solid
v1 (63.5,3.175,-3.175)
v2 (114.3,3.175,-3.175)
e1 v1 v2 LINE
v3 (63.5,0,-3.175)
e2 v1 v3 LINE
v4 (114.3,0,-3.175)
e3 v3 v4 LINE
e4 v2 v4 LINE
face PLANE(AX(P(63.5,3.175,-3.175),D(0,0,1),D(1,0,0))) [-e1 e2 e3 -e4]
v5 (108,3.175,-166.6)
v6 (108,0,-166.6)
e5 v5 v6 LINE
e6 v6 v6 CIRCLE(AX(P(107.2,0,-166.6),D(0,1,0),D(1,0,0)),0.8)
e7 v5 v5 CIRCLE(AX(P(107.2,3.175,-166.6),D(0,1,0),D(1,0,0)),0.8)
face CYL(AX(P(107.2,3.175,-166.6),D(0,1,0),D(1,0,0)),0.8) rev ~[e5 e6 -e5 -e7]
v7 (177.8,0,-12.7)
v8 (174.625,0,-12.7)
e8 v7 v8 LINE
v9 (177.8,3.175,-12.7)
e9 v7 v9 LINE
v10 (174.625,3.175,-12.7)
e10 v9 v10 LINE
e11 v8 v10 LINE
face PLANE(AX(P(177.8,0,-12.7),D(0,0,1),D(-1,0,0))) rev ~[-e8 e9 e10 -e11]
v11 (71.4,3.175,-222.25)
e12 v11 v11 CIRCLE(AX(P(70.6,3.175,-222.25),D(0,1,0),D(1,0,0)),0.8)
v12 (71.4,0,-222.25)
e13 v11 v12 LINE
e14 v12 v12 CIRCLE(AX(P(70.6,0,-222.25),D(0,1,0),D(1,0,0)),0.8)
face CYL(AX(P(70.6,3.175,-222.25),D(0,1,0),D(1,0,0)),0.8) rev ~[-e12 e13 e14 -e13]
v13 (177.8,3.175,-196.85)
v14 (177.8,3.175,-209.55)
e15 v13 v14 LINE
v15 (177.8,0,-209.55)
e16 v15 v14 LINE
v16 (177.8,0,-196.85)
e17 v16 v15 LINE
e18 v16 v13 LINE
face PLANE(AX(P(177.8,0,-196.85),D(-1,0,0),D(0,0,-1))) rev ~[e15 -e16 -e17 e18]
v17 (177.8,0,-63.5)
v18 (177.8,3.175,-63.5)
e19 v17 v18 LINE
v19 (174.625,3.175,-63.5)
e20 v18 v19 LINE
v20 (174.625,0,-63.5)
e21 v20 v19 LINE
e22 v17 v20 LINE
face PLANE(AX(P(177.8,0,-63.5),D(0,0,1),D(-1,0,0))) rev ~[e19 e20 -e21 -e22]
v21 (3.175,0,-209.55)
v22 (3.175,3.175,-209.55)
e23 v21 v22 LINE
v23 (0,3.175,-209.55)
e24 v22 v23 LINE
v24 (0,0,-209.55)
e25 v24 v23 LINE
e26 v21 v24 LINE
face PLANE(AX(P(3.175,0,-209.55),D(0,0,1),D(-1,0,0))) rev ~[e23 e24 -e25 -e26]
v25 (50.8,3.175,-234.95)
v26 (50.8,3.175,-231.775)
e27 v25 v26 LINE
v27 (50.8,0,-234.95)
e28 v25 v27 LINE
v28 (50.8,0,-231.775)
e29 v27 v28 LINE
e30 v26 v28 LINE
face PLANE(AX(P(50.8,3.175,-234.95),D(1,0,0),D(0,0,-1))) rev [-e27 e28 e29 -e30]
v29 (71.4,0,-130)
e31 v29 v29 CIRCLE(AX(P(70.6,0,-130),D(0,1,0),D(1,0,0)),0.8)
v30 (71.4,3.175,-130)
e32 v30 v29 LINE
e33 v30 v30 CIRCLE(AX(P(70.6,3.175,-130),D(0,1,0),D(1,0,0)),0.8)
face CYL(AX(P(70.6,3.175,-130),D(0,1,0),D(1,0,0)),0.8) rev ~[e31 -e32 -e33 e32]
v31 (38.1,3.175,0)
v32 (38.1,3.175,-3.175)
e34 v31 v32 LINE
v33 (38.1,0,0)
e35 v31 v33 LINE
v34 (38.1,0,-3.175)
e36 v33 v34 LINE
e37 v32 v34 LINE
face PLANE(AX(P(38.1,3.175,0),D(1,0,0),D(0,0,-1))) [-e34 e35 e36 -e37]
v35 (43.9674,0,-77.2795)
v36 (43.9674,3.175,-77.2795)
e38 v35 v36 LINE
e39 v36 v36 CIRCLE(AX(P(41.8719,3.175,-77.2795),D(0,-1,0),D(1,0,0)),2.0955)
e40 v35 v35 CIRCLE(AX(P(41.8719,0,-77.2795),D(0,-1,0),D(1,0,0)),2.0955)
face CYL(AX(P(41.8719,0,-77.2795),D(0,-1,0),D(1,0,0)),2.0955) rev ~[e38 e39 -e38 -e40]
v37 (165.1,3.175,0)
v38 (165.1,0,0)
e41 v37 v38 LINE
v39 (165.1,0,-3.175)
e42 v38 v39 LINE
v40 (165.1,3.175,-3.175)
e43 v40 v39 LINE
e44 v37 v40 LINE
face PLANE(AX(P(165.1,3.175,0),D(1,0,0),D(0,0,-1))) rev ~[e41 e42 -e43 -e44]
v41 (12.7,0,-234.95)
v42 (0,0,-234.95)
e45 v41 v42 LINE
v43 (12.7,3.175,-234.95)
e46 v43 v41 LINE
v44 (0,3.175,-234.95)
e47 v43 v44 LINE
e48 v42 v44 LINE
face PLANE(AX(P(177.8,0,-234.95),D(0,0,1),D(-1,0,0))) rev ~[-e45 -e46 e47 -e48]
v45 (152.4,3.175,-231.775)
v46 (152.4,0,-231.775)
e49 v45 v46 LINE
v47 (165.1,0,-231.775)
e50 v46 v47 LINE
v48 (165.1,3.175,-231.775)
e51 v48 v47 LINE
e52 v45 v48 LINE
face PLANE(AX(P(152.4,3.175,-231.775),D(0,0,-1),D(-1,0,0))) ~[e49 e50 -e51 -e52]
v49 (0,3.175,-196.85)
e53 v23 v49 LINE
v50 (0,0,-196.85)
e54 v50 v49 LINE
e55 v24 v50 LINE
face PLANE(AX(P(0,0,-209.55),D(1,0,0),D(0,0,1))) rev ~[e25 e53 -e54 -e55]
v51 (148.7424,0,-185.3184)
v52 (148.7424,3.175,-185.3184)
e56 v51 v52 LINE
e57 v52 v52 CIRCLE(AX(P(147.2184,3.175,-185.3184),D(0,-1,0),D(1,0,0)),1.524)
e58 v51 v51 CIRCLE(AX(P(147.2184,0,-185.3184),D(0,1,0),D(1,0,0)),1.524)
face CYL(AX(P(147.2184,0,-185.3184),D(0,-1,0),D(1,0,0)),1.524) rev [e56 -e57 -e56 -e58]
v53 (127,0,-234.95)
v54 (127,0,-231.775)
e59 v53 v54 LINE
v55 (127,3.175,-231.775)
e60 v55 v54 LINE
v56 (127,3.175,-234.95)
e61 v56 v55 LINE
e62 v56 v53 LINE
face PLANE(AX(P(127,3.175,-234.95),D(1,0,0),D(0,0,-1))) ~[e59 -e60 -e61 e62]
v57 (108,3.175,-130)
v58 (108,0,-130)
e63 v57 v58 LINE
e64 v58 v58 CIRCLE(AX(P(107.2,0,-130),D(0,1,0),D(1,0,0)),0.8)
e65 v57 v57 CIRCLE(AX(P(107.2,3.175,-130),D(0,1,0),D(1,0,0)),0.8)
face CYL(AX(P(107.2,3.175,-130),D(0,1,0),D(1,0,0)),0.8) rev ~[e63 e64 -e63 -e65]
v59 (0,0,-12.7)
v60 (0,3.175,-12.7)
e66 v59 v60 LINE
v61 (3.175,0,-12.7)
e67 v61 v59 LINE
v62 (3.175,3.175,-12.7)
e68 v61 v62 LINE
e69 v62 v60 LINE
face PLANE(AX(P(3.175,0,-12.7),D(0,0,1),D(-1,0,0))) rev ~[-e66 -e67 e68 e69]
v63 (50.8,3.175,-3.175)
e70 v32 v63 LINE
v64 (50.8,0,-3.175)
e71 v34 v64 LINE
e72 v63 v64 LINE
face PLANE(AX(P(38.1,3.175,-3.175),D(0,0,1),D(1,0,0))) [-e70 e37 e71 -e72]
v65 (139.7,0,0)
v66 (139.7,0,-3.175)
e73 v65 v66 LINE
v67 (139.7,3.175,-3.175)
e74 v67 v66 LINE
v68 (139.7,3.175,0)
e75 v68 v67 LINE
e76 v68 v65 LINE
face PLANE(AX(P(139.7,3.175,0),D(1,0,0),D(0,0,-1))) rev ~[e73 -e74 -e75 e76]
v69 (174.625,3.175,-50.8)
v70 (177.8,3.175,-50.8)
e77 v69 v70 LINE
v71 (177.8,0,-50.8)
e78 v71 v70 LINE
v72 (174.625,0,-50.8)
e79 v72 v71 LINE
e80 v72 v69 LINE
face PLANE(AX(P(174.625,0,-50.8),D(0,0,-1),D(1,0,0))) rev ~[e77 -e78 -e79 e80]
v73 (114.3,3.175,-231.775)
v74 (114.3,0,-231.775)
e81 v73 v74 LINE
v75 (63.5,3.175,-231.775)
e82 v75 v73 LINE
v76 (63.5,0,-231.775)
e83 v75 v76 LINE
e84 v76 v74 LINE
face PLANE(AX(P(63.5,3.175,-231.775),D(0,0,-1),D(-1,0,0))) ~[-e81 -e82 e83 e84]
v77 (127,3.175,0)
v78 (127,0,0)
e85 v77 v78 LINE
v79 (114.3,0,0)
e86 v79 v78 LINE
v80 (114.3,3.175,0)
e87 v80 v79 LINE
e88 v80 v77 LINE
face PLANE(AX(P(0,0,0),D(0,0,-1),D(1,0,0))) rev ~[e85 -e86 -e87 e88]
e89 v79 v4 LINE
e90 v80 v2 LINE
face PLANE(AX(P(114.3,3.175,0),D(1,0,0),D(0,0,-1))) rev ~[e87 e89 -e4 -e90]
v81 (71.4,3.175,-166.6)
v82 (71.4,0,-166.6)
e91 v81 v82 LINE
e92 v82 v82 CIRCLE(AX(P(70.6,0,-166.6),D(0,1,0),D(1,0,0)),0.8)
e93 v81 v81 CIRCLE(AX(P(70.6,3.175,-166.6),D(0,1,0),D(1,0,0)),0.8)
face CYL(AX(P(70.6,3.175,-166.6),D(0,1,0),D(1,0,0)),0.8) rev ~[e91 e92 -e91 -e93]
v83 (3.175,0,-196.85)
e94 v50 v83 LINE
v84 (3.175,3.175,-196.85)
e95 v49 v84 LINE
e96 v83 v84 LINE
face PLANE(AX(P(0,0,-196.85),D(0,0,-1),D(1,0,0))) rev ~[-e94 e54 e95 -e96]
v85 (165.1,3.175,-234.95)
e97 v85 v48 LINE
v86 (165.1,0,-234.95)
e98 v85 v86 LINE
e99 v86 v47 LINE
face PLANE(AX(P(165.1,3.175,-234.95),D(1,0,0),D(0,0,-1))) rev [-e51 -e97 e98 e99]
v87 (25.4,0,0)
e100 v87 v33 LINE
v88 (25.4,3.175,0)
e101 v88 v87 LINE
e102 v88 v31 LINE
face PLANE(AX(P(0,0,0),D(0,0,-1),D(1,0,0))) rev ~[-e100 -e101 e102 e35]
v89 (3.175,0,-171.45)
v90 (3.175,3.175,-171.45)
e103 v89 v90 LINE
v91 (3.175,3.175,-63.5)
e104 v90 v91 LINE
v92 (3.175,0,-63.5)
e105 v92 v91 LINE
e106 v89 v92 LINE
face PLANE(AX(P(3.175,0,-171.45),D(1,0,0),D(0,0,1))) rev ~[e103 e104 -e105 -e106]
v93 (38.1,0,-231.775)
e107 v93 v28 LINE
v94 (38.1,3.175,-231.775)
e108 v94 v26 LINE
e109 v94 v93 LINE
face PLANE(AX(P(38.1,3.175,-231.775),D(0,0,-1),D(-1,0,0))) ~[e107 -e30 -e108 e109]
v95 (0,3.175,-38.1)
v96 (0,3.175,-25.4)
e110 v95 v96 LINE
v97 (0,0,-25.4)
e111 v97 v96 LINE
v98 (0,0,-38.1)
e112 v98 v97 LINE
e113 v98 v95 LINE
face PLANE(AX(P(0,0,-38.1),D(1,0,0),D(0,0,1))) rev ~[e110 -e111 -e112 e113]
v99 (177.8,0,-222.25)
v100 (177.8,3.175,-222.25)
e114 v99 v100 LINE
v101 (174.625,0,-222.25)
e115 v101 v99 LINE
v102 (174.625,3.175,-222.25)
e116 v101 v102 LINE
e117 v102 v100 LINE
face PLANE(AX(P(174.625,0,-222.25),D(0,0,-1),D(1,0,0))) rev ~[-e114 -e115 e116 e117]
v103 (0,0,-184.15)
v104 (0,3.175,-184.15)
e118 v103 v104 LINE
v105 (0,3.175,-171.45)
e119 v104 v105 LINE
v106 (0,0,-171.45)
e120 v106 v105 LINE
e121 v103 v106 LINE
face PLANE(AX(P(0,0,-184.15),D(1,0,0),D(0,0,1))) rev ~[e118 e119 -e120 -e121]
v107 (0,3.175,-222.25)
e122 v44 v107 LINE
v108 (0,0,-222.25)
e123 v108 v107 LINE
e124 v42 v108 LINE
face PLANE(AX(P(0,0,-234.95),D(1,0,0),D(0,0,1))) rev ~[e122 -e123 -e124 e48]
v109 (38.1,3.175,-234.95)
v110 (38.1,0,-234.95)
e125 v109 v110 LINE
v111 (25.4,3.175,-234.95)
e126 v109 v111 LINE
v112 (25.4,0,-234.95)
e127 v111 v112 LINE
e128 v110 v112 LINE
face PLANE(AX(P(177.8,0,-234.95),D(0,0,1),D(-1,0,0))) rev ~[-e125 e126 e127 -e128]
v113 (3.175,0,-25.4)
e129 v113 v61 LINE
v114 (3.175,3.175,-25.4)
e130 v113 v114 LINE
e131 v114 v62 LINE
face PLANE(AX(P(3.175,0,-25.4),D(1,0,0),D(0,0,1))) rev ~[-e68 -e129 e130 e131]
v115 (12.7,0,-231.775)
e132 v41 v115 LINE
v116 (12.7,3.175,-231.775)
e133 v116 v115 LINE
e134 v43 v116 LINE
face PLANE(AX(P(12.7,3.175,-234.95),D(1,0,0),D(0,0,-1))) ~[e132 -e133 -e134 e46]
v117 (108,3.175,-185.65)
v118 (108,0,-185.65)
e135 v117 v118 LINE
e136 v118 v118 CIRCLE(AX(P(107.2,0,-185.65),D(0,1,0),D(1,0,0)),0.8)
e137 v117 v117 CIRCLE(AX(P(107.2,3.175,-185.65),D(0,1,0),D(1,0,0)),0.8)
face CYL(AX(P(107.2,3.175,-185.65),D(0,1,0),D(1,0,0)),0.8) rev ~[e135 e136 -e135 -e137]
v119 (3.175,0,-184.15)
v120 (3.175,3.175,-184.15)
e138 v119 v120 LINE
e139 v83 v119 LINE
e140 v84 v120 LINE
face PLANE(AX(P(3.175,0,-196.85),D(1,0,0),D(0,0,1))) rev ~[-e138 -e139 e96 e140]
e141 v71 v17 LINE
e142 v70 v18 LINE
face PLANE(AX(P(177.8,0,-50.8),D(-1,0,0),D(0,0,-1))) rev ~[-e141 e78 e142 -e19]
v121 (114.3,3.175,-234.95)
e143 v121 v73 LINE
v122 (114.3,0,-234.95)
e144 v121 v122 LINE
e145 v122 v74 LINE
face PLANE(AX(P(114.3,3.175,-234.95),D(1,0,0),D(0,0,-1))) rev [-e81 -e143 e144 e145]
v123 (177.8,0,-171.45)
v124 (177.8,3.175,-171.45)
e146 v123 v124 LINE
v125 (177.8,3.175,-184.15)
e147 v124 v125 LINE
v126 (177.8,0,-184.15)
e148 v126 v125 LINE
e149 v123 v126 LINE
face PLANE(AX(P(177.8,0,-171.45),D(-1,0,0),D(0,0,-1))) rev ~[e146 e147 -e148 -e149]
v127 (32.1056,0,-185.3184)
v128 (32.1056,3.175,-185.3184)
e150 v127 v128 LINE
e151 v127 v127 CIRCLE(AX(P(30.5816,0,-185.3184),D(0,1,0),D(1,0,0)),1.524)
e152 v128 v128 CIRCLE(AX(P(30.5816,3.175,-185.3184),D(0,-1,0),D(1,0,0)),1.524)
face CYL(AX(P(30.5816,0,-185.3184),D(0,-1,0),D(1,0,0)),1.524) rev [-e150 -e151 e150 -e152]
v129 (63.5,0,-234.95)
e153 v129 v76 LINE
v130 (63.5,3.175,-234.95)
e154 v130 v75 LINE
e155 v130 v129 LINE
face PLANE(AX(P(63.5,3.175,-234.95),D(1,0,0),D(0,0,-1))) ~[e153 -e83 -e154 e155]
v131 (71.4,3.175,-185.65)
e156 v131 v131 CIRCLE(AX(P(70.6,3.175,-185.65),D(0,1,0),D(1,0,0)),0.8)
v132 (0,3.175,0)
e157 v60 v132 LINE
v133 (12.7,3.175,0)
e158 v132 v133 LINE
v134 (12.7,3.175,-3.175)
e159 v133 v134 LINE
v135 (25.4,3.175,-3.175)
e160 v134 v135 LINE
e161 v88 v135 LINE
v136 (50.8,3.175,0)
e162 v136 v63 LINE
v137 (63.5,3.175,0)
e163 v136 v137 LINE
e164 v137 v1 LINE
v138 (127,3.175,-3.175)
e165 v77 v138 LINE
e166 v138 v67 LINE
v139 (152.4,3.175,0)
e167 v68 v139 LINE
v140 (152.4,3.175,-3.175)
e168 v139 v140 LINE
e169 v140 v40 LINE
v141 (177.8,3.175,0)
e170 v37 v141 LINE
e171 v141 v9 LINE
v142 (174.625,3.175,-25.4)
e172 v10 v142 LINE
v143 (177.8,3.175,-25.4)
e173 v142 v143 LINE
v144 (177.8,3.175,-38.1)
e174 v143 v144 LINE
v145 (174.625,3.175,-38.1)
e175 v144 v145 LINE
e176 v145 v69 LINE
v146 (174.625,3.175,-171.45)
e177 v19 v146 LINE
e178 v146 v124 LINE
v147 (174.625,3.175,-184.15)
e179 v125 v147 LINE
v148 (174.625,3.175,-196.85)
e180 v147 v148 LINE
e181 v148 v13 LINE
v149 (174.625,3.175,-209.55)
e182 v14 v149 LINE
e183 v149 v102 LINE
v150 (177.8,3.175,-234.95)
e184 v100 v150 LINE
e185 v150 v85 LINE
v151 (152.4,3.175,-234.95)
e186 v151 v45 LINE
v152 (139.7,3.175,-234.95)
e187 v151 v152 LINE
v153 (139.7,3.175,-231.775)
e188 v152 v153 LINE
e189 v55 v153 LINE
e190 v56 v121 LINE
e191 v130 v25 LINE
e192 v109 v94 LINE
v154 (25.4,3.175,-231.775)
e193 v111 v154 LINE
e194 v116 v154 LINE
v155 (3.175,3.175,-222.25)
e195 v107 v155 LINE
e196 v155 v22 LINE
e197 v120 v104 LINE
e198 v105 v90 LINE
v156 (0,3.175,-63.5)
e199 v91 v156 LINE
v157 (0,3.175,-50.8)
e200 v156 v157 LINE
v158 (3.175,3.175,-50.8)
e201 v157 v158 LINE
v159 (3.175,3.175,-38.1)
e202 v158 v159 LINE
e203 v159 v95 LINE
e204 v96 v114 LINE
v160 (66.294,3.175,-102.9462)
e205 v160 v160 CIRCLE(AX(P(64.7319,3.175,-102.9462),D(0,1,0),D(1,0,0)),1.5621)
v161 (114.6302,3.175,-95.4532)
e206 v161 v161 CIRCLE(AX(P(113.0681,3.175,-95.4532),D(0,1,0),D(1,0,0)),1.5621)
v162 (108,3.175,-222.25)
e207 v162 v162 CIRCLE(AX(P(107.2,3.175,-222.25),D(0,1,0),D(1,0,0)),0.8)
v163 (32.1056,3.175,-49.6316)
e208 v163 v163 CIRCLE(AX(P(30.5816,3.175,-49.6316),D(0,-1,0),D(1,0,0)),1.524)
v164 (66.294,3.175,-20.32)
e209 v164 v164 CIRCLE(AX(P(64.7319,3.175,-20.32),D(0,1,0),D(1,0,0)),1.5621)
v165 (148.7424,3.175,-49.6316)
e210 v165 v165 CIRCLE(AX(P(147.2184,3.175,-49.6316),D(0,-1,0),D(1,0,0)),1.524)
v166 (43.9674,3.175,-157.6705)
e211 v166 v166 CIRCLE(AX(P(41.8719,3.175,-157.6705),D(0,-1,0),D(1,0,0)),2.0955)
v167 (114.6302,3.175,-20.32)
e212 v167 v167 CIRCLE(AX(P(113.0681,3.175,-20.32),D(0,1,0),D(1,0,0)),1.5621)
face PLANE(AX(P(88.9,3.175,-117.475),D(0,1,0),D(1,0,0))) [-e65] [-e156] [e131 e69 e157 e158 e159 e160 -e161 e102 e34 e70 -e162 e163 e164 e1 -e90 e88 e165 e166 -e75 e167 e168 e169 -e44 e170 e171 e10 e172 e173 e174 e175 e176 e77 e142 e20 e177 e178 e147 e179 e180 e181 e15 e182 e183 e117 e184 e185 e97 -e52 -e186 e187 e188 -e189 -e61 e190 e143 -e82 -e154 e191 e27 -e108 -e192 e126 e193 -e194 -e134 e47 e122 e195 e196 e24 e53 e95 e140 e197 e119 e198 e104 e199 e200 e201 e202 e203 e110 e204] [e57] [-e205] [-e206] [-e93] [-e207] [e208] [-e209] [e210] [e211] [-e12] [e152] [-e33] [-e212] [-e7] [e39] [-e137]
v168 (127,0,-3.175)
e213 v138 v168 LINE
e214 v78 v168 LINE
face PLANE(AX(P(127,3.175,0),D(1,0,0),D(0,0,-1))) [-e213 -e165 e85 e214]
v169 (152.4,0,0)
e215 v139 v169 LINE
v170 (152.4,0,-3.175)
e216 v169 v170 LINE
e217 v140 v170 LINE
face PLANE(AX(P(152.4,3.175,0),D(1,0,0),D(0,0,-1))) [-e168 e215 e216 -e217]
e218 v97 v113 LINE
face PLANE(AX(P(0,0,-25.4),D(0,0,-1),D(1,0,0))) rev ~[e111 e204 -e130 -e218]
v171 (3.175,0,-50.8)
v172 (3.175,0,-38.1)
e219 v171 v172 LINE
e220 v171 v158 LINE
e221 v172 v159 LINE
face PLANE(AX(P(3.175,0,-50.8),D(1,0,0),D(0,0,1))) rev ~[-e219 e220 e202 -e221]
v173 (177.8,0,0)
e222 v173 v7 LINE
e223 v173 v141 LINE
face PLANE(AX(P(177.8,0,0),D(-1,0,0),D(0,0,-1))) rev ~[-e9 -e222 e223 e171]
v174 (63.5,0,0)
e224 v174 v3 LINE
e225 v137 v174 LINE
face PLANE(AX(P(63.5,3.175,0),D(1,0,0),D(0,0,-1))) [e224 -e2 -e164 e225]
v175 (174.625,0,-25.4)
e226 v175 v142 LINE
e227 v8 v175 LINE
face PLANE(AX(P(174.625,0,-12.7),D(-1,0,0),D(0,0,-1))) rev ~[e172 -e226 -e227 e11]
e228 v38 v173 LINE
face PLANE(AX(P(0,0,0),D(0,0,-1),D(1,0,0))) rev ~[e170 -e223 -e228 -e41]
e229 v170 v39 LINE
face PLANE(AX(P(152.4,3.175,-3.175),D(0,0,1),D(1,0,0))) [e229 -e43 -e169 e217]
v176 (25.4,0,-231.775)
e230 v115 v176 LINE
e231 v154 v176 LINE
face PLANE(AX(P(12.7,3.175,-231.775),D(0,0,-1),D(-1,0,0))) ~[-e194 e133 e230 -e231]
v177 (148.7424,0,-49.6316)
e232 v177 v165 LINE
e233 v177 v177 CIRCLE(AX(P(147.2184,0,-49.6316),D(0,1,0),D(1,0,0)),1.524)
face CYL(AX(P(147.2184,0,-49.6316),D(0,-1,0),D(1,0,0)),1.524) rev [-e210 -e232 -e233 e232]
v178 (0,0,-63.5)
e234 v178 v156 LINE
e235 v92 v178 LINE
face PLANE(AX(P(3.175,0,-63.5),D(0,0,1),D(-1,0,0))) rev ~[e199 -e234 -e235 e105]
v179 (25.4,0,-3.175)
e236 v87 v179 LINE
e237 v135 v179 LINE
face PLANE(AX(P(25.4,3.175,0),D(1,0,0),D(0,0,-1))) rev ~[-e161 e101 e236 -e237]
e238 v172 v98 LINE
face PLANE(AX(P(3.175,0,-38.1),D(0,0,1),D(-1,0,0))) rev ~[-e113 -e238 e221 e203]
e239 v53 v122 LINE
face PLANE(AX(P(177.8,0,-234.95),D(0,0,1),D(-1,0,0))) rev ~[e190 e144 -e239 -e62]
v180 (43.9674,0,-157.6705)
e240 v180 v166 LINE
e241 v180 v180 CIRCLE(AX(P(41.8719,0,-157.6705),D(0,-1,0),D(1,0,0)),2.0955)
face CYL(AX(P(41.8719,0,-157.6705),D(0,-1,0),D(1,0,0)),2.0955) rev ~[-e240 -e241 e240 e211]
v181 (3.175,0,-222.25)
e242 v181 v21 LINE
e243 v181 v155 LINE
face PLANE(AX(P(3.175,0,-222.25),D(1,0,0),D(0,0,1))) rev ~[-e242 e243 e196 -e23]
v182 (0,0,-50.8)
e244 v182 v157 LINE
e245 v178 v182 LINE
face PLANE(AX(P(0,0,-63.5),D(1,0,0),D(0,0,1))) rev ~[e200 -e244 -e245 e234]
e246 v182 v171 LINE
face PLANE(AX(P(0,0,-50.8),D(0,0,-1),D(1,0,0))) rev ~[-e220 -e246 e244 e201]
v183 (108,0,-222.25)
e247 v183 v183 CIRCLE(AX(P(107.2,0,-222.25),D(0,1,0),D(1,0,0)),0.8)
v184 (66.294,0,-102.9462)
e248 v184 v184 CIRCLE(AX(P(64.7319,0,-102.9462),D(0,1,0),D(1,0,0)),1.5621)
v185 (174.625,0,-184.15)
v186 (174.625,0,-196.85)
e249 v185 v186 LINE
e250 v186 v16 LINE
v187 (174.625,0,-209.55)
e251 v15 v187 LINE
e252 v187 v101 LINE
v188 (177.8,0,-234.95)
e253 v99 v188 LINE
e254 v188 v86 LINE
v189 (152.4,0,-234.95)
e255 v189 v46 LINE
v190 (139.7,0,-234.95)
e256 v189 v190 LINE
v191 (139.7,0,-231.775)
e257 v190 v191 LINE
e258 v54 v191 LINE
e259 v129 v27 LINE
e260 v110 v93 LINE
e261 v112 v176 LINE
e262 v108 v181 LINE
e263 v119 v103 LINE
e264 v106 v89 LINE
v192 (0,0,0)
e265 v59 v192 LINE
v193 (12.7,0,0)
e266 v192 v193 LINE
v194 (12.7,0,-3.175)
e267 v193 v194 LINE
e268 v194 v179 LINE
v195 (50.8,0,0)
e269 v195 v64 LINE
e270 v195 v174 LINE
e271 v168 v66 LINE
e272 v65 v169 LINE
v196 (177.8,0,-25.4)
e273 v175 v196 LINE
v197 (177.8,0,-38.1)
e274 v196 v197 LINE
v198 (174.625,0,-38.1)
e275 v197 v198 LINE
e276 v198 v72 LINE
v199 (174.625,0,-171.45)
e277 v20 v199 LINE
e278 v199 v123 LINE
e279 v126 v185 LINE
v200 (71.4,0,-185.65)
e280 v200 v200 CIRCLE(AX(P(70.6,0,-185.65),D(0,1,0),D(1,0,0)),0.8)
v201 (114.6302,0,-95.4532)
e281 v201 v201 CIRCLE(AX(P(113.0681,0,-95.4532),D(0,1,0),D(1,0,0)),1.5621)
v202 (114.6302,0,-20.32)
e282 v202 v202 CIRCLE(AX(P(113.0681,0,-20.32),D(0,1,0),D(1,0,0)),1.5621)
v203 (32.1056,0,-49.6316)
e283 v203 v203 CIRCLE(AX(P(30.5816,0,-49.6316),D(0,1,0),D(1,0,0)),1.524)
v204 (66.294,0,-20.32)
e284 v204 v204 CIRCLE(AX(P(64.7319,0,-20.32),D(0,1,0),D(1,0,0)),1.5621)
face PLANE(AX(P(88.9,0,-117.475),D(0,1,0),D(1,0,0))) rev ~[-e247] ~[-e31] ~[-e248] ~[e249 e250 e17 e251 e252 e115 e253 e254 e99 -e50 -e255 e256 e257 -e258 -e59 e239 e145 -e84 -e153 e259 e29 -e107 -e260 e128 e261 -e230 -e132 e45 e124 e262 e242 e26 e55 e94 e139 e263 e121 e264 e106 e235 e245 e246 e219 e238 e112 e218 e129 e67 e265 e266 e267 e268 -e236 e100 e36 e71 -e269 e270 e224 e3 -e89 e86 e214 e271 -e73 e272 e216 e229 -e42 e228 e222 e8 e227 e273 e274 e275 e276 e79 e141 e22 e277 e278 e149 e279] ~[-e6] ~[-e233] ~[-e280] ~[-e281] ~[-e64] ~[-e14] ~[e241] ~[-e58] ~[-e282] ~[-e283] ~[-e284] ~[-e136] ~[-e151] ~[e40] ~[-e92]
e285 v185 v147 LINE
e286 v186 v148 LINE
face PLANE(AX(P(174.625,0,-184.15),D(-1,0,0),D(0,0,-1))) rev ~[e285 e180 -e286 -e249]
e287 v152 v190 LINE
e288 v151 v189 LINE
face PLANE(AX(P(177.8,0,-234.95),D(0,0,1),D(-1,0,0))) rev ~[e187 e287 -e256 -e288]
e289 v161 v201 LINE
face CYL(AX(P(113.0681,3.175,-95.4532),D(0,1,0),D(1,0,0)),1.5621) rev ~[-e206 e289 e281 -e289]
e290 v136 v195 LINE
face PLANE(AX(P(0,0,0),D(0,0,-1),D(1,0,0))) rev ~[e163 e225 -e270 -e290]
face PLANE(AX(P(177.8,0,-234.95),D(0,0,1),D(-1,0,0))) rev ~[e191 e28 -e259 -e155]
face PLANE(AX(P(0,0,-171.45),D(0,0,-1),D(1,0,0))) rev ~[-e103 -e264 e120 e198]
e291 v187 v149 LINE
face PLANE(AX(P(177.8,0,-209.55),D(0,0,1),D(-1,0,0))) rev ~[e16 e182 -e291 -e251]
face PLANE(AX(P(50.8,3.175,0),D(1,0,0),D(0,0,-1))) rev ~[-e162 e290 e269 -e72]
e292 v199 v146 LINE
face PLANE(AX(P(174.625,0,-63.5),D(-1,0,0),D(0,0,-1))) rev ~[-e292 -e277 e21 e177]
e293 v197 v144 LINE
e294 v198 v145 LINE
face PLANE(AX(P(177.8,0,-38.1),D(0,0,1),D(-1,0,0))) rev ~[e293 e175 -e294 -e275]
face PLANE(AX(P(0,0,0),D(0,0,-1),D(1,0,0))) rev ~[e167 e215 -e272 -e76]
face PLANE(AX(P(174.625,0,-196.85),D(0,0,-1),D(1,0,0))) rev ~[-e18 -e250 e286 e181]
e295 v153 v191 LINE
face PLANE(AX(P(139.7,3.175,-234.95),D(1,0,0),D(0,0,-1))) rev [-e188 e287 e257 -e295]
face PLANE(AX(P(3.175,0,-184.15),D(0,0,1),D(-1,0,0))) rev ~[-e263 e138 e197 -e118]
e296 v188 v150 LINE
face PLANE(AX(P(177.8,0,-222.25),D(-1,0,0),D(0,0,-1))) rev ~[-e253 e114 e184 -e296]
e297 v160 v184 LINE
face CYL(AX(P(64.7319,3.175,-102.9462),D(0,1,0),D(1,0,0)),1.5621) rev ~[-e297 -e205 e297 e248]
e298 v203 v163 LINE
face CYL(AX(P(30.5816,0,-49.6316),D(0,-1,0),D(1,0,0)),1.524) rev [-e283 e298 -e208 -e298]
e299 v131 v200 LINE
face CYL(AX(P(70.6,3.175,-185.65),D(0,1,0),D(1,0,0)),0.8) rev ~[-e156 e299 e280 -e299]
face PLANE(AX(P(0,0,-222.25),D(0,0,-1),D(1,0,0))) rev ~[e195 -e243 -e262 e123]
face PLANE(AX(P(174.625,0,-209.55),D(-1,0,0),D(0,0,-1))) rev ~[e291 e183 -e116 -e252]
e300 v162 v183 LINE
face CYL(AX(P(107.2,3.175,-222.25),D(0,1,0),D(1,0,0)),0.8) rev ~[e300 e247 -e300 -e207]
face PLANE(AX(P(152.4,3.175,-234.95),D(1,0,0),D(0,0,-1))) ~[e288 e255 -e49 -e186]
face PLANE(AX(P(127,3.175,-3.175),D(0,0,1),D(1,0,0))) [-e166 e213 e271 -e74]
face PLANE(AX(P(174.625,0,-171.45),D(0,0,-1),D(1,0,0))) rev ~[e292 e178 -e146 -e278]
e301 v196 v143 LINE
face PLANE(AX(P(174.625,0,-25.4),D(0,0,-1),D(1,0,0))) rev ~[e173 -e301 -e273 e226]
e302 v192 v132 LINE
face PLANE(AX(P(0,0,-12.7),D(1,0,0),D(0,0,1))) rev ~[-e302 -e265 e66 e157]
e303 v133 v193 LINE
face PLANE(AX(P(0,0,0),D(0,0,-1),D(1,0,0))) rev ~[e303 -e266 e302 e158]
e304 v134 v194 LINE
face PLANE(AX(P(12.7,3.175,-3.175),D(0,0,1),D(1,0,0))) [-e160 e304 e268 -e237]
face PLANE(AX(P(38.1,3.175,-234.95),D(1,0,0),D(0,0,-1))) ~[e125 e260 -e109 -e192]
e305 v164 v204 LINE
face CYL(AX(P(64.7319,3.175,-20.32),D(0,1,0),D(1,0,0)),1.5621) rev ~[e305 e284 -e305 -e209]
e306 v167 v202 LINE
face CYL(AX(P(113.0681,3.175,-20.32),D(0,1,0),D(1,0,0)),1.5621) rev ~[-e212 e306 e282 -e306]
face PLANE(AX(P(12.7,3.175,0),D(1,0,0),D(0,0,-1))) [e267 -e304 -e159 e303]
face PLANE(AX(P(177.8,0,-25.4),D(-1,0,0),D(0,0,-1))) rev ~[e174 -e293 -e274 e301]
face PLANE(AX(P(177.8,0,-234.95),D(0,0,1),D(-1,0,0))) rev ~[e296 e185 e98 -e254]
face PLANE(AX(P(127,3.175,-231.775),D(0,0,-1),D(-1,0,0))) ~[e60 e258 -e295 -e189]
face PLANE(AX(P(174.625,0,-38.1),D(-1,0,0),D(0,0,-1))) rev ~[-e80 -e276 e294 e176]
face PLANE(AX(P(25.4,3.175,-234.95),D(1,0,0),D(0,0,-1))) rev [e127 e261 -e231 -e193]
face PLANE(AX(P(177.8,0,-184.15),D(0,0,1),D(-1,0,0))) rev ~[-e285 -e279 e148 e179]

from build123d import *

# Parameters (mm, degrees)
BOSS_EXTRUDE1_DEPTH     = 3.175
CUT_EXTRUDE1_DEPTH      = 295.659843082
CUT_EXTRUDE1_DEPTH_BACK = 3.175
SKETCH2_R               = 1.524
SKETCH3_R               = 0.8
CUT_EXTRUDE2_DEPTH      = 5.715
SKETCH4_R               = 1.5621
CUT_EXTRUDE3_DEPTH      = 10.16
SKETCH5_W               = 50.8
SKETCH5_H               = 3.175
SKETCH5_W_2             = 12.7
CUT_EXTRUDE4_DEPTH      = 7.62
SKETCH7_R               = 2.0955
CUT_EXTRUDE5_DEPTH      = 7.62


with BuildPart() as part:
    # Sketch1 → Boss-Extrude1 (new body)
    with BuildSketch(Plane(origin=(0, 0, 0), x_dir=(1, 0, 0), z_dir=(0, 1, 0))):
        Polygon((3.175, 209.55), (0, 209.55), (0, 196.85), (3.175, 196.85), (3.175, 184.15), (0, 184.15), (0, 171.45), (3.175, 171.45), (3.175, 63.5), (0, 63.5), (0, 50.8), (3.175, 50.8), (3.175, 38.1), (0, 38.1), (0, 25.4), (3.175, 25.4), (3.175, 12.7), (0, 12.7), (0, 0), (177.8, 0), (177.8, 12.7), (174.625, 12.7), (174.625, 25.4), (177.8, 25.4), (177.8, 38.1), (174.625, 38.1), (174.625, 50.8), (177.8, 50.8), (177.8, 63.5), (174.625, 63.5), (174.625, 171.45), (177.8, 171.45), (177.8, 184.15), (174.625, 184.15), (174.625, 196.85), (177.8, 196.85), (177.8, 209.55), (174.625, 209.55), (174.625, 222.25), (177.8, 222.25), (177.8, 234.95), (0, 234.95), (0, 222.25), (3.175, 222.25), align=None)
    extrude(amount=BOSS_EXTRUDE1_DEPTH)

    # Sketch2 → Cut-Extrude1 (cut, two sides: drawn at the far end of the back side and taken through both)
    with BuildSketch(Plane(origin=(0, 3.175, 0), x_dir=(1, 0, 0), z_dir=(0, 1, 0)).offset(-CUT_EXTRUDE1_DEPTH_BACK)):
        with Locations((30.5816, 49.6316)):
            Circle(SKETCH2_R)
        with Locations((30.5816, 185.3184)):
            Circle(SKETCH2_R)
        with Locations((147.2184, 49.6316)):
            Circle(SKETCH2_R)
        with Locations((147.2184, 185.3184)):
            Circle(SKETCH2_R)
    extrude(amount=CUT_EXTRUDE1_DEPTH + CUT_EXTRUDE1_DEPTH_BACK, mode=Mode.SUBTRACT)

    # Sketch3 → Cut-Extrude2 (cut)
    with BuildSketch(Plane(origin=(0, 3.175, 0), x_dir=(1, 0, 0), z_dir=(0, 1, 0))):
        with Locations((70.6, 222.25)):
            Circle(SKETCH3_R)
        with Locations((107.2, 222.25)):
            Circle(SKETCH3_R)
        with Locations((70.6, 185.65)):
            Circle(SKETCH3_R)
        with Locations((107.2, 185.65)):
            Circle(SKETCH3_R)
        with Locations((70.6, 166.6)):
            Circle(SKETCH3_R)
        with Locations((107.2, 166.6)):
            Circle(SKETCH3_R)
        with Locations((70.6, 130)):
            Circle(SKETCH3_R)
        with Locations((107.2, 130)):
            Circle(SKETCH3_R)
    extrude(amount=-CUT_EXTRUDE2_DEPTH, mode=Mode.SUBTRACT)

    # Sketch4 → Cut-Extrude3 (cut)
    with BuildSketch(Plane(origin=(0, 3.175, 0), x_dir=(1, 0, 0), z_dir=(0, 1, 0))):
        with Locations((64.7319, 20.32)):
            Circle(SKETCH4_R)
        with Locations((113.0681, 20.32)):
            Circle(SKETCH4_R)
        with Locations((64.7319, 102.9462)):
            Circle(SKETCH4_R)
        with Locations((113.0681, 95.4532)):
            Circle(SKETCH4_R)
    extrude(amount=-CUT_EXTRUDE3_DEPTH, mode=Mode.SUBTRACT)

    # Sketch5 → Cut-Extrude4 (cut)
    with BuildSketch(Plane(origin=(0, 3.175, 0), x_dir=(1, 0, 0), z_dir=(0, 1, 0))):
        with Locations((88.9, 1.5875)):
            Rectangle(SKETCH5_W, SKETCH5_H)
        with Locations((44.45, 1.5875)):
            Rectangle(SKETCH5_W_2, SKETCH5_H)
        with Locations((133.35, 1.5875)):
            Rectangle(SKETCH5_W_2, SKETCH5_H)
        with Locations((19.05, 1.5875)):
            Rectangle(SKETCH5_W_2, SKETCH5_H)
        with Locations((158.75, 1.5875)):
            Rectangle(SKETCH5_W_2, SKETCH5_H)
    cut_extrude4 = extrude(amount=-CUT_EXTRUDE4_DEPTH, mode=Mode.SUBTRACT)

    # Mirror1: Cut-Extrude4 across plane
    add(cut_extrude4.mirror(Plane.XY.offset(-117.475)), mode=Mode.SUBTRACT)

    # Sketch7 → Cut-Extrude5 (cut)
    with BuildSketch(Plane.XZ):
        with Locations((41.8719, -77.2795)):
            Circle(SKETCH7_R)
        with Locations((41.8719, -157.6705)):
            Circle(SKETCH7_R)
    extrude(amount=-CUT_EXTRUDE5_DEPTH, mode=Mode.SUBTRACT)


solid = part.part
